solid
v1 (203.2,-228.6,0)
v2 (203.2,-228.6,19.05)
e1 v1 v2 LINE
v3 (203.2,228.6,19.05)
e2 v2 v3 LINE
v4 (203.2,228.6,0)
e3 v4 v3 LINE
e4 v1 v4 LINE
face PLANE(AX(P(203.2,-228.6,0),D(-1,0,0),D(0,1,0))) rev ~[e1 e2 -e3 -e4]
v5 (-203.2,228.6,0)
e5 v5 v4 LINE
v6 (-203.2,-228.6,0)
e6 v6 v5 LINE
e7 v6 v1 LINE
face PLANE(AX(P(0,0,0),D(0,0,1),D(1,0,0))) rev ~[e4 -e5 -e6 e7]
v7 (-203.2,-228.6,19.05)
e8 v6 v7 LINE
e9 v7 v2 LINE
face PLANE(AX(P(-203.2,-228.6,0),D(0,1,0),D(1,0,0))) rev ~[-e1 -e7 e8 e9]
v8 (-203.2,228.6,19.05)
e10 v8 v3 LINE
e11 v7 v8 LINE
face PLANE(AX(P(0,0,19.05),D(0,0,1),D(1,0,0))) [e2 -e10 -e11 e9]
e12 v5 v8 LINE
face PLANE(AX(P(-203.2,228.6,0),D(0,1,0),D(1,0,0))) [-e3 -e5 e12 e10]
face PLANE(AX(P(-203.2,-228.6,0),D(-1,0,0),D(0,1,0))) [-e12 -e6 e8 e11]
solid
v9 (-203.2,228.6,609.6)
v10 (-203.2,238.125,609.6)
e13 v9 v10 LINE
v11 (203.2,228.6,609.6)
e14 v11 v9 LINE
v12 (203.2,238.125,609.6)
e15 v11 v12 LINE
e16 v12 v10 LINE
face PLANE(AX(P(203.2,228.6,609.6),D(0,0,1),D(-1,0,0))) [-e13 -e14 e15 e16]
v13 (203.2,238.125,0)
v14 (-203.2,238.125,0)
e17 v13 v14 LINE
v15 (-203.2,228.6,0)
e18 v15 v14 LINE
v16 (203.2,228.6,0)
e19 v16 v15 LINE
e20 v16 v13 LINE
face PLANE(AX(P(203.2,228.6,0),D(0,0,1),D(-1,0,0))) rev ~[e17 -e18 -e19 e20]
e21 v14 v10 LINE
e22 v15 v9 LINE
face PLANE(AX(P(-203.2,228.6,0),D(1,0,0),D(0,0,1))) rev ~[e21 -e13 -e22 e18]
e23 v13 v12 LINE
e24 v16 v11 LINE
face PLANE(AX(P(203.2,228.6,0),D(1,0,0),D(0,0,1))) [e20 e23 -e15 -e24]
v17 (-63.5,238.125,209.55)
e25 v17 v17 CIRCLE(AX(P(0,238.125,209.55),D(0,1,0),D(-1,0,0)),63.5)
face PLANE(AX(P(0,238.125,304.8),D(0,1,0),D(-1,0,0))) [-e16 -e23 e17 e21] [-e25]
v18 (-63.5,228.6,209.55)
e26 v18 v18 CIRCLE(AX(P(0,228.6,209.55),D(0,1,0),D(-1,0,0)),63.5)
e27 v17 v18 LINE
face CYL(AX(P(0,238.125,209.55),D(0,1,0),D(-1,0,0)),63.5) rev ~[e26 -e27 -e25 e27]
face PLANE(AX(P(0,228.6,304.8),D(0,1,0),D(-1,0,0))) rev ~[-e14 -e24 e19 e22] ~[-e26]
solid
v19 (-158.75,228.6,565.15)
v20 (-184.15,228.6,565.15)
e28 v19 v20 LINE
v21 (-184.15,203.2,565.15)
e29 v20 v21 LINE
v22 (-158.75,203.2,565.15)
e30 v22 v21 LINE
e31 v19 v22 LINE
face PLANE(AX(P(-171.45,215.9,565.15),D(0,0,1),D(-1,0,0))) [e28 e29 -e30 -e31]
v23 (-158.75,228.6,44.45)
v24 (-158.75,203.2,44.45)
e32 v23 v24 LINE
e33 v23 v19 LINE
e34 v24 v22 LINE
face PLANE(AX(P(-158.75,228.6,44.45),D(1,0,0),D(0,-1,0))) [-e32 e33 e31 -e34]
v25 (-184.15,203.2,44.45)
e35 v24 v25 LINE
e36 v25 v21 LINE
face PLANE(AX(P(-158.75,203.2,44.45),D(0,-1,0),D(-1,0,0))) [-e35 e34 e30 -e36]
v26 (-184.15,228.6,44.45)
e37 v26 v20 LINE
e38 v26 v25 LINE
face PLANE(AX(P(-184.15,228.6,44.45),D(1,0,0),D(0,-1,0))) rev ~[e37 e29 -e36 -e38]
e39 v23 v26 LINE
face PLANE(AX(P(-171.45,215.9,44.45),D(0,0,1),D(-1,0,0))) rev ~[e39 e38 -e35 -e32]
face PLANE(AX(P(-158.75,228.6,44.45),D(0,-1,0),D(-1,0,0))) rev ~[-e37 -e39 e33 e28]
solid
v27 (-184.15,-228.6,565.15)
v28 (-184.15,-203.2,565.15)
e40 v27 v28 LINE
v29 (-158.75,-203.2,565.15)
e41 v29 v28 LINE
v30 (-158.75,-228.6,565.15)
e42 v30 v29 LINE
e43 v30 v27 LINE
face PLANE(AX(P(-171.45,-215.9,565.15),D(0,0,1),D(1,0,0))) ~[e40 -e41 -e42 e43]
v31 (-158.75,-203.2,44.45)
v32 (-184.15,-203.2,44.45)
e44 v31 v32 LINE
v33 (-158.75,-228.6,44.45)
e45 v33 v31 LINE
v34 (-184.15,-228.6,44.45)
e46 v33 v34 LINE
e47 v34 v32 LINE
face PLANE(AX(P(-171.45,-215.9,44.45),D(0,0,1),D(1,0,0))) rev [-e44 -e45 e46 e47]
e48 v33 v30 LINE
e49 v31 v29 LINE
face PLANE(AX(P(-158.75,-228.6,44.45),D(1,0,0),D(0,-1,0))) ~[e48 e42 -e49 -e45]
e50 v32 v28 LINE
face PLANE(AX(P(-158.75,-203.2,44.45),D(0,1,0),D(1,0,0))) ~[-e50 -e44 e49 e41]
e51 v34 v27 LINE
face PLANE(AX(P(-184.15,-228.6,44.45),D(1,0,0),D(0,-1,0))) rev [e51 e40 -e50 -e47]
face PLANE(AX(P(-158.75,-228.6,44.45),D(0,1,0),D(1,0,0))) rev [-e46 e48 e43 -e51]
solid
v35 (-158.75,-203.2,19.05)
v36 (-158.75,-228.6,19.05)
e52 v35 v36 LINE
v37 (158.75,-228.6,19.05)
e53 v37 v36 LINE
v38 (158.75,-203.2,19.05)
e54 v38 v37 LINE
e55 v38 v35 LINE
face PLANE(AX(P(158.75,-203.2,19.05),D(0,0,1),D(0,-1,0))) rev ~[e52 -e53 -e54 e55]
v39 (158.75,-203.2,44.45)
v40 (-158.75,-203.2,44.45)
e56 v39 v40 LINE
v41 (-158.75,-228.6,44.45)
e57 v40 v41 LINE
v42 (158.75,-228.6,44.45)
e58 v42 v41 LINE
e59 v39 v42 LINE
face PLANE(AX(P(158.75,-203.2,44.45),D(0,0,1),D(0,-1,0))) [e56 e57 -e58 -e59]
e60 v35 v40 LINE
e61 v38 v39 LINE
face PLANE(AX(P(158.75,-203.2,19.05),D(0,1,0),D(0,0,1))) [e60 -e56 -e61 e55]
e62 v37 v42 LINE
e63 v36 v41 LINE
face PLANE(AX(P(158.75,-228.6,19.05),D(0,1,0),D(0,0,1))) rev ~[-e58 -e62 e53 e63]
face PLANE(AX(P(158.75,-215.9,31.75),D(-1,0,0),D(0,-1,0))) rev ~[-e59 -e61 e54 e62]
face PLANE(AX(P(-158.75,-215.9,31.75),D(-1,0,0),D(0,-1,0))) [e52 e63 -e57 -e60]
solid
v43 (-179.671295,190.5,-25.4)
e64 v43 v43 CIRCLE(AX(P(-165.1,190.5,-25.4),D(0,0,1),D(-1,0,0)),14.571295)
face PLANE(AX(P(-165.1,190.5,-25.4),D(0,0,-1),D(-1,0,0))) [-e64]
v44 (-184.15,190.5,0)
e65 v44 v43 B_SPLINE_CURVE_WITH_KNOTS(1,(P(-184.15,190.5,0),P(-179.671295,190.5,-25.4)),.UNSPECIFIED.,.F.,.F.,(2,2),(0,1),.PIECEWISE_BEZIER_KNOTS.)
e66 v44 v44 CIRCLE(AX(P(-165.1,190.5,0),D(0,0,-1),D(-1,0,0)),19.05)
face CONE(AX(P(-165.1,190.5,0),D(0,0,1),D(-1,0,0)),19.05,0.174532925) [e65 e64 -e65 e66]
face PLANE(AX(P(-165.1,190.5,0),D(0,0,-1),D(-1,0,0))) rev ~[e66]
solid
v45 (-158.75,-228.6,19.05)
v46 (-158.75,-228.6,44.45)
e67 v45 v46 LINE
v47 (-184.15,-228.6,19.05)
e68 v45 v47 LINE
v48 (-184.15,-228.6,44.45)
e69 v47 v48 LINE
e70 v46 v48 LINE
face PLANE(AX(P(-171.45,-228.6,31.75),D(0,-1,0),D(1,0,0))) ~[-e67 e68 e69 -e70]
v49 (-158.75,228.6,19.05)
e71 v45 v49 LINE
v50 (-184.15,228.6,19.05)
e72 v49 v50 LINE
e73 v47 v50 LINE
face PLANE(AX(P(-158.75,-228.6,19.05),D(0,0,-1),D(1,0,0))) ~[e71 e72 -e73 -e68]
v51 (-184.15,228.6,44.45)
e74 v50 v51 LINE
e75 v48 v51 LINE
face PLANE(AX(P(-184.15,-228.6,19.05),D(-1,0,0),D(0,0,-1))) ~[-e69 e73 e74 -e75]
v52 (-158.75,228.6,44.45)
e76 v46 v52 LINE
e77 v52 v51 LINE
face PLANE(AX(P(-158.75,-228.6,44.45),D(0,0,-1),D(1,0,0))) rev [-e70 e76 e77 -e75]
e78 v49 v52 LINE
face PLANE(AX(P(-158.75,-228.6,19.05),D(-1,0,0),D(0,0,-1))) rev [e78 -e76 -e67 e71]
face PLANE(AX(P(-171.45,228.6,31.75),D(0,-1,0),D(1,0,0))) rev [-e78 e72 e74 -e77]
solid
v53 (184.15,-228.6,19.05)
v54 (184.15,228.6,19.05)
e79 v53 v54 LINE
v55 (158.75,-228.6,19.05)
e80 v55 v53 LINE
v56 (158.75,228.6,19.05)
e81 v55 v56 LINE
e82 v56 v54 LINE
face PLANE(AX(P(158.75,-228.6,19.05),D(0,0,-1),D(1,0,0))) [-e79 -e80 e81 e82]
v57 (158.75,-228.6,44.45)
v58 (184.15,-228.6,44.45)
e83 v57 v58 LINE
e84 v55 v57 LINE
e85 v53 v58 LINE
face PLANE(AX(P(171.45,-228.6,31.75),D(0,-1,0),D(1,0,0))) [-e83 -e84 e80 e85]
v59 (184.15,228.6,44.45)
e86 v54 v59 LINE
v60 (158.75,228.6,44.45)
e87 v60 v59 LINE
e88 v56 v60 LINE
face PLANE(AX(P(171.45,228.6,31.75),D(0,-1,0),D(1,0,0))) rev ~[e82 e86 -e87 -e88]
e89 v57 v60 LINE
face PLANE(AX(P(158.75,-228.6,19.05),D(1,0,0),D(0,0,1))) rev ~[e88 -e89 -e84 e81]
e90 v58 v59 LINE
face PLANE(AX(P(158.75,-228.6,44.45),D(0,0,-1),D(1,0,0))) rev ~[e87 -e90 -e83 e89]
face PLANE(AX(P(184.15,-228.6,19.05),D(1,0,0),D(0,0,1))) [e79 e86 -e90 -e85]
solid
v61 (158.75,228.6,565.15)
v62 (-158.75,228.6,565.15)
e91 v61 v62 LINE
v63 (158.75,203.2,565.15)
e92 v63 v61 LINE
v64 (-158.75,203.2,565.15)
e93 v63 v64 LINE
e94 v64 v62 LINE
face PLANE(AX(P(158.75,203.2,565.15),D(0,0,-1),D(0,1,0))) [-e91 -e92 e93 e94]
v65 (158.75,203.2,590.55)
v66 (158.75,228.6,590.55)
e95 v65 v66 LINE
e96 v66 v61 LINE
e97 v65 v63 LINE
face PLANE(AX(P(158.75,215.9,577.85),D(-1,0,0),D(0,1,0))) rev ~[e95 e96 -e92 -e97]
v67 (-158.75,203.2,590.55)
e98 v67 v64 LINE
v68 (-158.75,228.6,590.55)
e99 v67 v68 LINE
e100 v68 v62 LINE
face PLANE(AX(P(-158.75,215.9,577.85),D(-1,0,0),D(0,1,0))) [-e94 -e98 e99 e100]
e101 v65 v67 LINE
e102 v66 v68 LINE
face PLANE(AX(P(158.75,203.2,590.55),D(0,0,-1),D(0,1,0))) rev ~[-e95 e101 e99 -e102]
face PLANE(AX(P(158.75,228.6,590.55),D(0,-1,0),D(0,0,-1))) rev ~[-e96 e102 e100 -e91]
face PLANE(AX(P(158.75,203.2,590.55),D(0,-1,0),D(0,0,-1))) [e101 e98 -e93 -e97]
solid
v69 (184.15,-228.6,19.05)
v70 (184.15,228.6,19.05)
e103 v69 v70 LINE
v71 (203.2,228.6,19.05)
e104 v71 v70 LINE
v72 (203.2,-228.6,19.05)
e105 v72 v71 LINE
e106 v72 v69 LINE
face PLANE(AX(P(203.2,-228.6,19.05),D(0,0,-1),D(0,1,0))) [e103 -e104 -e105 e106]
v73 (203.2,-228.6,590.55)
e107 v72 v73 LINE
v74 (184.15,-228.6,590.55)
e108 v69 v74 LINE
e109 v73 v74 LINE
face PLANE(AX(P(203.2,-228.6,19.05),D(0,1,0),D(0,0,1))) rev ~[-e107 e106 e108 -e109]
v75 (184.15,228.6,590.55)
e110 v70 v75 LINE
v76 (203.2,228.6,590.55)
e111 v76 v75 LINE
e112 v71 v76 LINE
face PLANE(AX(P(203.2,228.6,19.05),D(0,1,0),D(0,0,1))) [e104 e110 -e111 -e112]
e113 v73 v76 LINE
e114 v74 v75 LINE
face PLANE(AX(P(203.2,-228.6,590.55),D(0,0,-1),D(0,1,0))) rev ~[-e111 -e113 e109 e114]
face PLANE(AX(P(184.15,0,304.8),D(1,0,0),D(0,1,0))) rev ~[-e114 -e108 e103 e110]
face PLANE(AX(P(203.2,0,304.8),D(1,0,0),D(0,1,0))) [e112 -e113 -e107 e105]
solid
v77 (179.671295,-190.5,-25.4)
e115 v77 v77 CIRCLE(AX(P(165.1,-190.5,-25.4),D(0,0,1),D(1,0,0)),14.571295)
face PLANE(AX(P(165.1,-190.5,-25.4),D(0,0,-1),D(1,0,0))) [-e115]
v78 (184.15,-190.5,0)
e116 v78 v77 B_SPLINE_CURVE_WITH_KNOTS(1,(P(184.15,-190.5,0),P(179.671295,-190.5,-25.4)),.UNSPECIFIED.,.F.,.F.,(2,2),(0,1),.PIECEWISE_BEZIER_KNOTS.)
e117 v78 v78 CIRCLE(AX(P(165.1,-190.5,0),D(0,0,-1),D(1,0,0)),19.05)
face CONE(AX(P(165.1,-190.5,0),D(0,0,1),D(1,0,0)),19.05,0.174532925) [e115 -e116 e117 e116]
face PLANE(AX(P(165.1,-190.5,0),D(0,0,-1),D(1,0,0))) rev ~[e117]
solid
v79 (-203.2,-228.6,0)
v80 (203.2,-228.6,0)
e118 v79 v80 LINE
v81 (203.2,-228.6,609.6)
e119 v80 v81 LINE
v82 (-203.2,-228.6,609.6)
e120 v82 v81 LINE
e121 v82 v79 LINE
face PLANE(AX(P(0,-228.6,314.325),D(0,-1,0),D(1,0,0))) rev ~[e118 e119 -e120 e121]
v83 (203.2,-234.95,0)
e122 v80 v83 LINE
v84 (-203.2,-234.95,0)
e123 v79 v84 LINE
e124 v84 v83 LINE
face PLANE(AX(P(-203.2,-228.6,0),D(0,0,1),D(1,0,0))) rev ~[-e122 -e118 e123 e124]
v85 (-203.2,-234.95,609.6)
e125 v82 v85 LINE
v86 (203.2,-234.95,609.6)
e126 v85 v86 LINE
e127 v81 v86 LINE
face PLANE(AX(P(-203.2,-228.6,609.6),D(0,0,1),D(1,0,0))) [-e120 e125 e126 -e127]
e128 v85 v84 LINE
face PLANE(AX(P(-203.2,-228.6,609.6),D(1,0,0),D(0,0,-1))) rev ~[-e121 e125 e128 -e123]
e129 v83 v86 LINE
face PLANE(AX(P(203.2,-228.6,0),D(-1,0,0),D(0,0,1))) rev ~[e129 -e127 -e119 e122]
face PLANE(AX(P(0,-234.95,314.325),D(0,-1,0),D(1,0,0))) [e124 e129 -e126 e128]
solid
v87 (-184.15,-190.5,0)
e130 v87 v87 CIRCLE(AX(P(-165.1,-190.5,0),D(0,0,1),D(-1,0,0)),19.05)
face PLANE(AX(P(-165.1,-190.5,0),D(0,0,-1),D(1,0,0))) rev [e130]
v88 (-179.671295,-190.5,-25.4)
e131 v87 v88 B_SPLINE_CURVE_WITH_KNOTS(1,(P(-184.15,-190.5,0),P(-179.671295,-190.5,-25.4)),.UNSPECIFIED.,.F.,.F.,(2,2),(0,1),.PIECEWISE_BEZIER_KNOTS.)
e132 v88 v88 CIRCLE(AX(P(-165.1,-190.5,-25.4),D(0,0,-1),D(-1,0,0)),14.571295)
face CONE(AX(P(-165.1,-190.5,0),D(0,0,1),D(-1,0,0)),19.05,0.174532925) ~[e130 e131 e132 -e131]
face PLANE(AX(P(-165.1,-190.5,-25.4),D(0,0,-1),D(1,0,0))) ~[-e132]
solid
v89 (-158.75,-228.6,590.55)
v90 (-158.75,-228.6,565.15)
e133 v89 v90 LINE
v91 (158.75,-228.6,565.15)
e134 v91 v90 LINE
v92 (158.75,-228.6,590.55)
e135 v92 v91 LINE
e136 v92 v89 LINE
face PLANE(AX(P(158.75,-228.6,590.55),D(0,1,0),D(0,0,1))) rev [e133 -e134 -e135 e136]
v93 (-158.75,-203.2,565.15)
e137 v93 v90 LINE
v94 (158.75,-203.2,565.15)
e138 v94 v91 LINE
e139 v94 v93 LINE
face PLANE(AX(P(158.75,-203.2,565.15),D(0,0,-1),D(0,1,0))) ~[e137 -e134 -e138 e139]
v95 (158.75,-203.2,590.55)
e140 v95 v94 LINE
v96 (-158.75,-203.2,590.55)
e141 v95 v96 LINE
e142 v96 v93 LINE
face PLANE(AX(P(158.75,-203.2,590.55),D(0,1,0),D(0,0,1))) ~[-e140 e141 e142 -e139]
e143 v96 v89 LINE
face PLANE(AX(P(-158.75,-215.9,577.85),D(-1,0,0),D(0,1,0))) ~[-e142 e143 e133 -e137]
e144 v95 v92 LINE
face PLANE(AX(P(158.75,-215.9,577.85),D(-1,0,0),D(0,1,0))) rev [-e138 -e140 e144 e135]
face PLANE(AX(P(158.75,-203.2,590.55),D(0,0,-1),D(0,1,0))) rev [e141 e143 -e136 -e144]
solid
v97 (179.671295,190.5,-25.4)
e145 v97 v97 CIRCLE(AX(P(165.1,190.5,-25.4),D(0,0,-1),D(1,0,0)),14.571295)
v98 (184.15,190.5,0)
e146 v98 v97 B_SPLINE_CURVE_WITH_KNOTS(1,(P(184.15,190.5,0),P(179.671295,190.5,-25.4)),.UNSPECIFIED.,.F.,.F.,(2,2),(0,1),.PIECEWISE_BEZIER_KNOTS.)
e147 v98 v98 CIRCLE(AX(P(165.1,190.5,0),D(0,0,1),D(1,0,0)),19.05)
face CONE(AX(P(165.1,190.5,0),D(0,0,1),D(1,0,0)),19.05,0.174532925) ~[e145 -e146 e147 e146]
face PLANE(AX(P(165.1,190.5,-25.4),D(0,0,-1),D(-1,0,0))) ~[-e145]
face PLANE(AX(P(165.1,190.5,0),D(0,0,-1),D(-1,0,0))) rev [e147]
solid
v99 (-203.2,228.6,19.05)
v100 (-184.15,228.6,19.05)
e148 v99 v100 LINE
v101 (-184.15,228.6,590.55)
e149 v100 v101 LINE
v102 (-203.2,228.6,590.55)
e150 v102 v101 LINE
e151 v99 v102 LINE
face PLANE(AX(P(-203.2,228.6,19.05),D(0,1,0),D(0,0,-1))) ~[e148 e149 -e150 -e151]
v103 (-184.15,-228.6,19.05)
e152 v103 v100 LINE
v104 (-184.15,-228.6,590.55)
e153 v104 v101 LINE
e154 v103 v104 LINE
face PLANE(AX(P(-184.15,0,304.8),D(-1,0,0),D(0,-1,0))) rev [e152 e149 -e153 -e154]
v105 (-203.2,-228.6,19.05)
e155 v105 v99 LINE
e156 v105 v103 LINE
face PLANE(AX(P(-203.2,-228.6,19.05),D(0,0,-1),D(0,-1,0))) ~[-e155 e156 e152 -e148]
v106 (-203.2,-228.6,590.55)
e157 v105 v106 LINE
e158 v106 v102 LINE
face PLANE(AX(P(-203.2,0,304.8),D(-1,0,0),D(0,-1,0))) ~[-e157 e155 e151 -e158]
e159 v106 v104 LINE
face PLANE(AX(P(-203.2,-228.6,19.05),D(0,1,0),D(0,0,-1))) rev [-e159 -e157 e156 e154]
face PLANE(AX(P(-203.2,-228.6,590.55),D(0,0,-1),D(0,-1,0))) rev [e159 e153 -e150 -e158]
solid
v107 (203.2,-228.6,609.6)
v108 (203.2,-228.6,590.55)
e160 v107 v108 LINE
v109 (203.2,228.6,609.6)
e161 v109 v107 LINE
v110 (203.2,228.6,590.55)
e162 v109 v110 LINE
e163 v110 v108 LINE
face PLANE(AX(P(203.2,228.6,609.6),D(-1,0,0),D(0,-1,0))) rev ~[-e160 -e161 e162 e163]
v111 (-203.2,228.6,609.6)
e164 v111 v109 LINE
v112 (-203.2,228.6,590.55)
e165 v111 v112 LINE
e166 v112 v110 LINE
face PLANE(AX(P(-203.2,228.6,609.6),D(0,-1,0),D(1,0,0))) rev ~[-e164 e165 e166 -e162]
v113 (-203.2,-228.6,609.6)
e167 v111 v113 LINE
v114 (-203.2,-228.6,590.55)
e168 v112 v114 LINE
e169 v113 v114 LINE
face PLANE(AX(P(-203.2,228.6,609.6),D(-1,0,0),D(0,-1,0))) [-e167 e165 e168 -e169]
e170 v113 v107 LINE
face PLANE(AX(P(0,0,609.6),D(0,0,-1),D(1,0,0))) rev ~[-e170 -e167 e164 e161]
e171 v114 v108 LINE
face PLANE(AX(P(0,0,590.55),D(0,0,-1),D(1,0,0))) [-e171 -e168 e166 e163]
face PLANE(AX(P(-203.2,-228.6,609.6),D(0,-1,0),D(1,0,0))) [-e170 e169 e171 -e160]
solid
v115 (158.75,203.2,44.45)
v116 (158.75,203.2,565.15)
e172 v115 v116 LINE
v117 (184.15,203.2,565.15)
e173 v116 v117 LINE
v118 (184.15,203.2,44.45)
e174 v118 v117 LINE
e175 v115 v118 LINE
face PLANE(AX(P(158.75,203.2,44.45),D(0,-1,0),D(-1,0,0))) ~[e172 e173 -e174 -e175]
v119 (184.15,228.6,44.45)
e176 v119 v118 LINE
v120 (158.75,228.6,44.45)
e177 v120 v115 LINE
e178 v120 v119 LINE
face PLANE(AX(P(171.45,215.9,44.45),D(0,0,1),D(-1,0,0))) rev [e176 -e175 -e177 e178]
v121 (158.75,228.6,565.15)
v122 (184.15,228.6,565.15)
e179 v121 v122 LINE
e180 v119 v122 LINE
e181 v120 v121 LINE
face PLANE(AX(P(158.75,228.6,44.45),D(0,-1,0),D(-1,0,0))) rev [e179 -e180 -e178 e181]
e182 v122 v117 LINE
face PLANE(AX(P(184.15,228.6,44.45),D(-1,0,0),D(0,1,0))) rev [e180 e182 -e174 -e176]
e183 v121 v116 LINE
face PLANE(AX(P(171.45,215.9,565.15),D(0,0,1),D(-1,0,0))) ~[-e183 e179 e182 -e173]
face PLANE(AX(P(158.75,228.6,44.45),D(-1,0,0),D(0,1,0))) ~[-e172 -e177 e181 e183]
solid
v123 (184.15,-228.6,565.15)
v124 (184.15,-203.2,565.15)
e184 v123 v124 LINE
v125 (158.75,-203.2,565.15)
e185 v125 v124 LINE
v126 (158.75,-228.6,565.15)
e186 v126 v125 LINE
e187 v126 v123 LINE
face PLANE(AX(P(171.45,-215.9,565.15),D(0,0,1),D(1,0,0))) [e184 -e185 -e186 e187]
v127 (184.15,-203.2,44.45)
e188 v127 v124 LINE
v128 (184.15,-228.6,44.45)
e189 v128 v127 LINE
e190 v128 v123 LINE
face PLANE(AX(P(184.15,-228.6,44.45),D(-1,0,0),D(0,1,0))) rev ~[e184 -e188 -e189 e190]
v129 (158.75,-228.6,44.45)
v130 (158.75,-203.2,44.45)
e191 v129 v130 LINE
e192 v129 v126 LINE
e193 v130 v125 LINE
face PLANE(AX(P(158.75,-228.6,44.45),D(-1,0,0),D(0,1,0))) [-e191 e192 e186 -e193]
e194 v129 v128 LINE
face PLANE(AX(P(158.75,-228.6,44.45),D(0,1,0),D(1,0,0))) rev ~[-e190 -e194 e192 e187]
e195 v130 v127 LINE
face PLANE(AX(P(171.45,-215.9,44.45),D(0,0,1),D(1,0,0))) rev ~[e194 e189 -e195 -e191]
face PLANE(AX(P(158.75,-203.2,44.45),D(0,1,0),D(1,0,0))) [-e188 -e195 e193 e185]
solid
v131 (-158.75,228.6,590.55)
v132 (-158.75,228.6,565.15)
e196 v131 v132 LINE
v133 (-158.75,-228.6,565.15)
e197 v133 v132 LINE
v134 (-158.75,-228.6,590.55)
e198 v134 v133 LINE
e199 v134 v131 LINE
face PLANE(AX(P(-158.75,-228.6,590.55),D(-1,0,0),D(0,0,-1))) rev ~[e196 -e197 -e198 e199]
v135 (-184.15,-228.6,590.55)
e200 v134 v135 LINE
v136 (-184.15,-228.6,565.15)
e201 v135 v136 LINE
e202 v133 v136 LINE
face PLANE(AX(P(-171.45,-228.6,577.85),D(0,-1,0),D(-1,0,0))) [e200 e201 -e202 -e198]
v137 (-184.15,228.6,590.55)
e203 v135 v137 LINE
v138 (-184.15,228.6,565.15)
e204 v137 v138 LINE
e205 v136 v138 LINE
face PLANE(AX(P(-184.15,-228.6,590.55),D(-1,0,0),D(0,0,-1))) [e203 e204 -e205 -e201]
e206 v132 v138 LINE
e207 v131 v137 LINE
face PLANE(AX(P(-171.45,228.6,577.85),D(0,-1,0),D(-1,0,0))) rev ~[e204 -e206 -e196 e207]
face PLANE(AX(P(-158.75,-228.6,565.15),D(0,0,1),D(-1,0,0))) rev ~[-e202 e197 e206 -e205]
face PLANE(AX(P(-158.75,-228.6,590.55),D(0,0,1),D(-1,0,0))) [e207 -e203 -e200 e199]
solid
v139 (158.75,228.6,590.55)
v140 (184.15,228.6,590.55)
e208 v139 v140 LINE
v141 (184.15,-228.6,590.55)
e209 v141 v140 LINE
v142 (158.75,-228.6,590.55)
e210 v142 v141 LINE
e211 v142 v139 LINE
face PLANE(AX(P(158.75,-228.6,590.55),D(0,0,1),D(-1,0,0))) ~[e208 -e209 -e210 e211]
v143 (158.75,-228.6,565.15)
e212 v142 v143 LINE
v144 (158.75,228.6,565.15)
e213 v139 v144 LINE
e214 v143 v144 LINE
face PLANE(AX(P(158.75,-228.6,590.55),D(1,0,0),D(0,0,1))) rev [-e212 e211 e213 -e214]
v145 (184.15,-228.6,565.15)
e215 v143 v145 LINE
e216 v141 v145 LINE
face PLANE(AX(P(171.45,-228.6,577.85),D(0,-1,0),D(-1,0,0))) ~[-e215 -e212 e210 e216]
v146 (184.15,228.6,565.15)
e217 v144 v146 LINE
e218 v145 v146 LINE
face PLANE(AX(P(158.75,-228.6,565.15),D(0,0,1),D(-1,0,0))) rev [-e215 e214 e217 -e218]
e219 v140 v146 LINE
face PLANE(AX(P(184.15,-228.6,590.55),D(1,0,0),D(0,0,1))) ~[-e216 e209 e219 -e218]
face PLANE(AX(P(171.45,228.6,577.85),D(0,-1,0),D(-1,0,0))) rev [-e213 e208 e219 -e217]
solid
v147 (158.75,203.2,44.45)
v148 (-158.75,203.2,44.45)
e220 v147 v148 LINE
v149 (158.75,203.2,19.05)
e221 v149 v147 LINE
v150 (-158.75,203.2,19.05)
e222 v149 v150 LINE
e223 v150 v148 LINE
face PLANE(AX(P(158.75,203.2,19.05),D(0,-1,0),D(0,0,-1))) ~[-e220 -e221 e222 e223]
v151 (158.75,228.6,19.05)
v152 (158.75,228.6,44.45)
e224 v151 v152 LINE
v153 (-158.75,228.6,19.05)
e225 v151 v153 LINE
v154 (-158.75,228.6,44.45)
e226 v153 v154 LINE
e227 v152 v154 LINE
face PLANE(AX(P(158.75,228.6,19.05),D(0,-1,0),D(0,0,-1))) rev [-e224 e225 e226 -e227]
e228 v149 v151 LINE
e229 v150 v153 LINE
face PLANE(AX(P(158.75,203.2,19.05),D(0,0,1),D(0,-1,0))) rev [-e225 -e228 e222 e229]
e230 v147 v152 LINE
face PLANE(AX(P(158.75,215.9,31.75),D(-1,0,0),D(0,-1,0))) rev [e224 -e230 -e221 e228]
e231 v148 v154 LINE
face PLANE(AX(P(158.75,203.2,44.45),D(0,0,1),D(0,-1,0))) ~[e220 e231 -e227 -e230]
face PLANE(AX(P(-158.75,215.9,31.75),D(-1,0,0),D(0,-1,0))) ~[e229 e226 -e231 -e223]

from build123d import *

# Parameters (mm, degrees)
F0_W      = 406.4
F0_H      = 457.2
F1_DEPTH  = 19.05
F3_W      = 406.4
F3_H      = 457.2
F4_DEPTH  = 19.05
F5_W      = 457.2
F5_H      = 571.5
F6_DEPTH  = 19.05
F8_W      = 25.4
F8_H      = 25.4
F9_DEPTH  = 457.2
F11_W     = 25.4
F11_H     = 25.4
F12_DEPTH = 317.5
F16_W     = 25.4
F16_H     = 25.4
F17_DEPTH = 520.7
F20_W     = 406.4
F20_H     = 609.6
F21_DEPTH = 9.525
F22_R     = 63.5
F23_DEPTH = 9.525
F24_W     = 406.4
F24_H     = 590.55
F24_H_2   = 19.05
F25_DEPTH = 6.35
F26_R     = 19.05
F27_DEPTH = 25.4
F27_TAPER = 10


with BuildPart() as f1:
    # F0 (on Top) → F1 (new body)
    with BuildSketch(Plane.XY):
        Rectangle(F0_W, F0_H)
    extrude(amount=F1_DEPTH)


with BuildPart() as f4:
    # F3 (on offset) → F4 (new body)
    with BuildSketch(Plane(origin=(0, 0, 609.6), x_dir=(1, 0, 0), z_dir=(0, 0, -1))):
        Rectangle(F3_W, F3_H)
    extrude(amount=F4_DEPTH)


with BuildPart() as f6:
    # F5 (on face) → F6 (new body)
    with BuildSketch(Plane.YZ.offset(203.2)):
        with Locations((0, 304.8)):
            Rectangle(F5_W, F5_H)
    extrude(amount=-F6_DEPTH)


with BuildPart() as f7_1:
    # F7: instance of F6
    add(f6.part.mirror(Plane.YZ))


with BuildPart() as f9:
    # F8 (on face) → F9 (new body, through all)
    with BuildSketch(Plane.XZ.offset(228.6)):
        with Locations((171.45, 31.75)):
            Rectangle(F8_W, F8_H)
    extrude(amount=-F9_DEPTH)


with BuildPart() as f10_1:
    # F10: instance of F9
    add(f9.part.mirror(Plane.YZ))


with BuildPart() as f12:
    # F11 (on face) → F12 (new body, through all)
    with BuildSketch(Plane(origin=(158.75, 0, 0), x_dir=(0, -1, 0), z_dir=(-1, 0, 0))):
        with Locations((215.9, 31.75)):
            Rectangle(F11_W, F11_H)
    extrude(amount=F12_DEPTH)


with BuildPart() as f13_1:
    # F13: instance of F12
    add(f12.part.mirror(Plane.XZ))


with BuildPart() as f15_1:
    # F15: instance of F10_1
    add(f10_1.part.mirror(Plane.XY.offset(304.8)))


with BuildPart() as f15_2:
    # F15: instance of F13_1
    add(f13_1.part.mirror(Plane.XY.offset(304.8)))


with BuildPart() as f15_3:
    # F15: instance of F9
    add(f9.part.mirror(Plane.XY.offset(304.8)))


with BuildPart() as f15_4:
    # F15: instance of F12
    add(f12.part.mirror(Plane.XY.offset(304.8)))


with BuildPart() as f17:
    # F16 (on face) → F17 (new body, through all)
    with BuildSketch(Plane.XY.offset(44.45)):
        with Locations((171.45, -215.9)):
            Rectangle(F16_W, F16_H)
    extrude(amount=F17_DEPTH)


with BuildPart() as f18_1:
    # F18: instance of F17
    add(f17.part.mirror(Plane.XZ))


with BuildPart() as f19_1:
    # F19: instance of F17
    add(f17.part.mirror(Plane.YZ))


with BuildPart() as f19_2:
    # F19: instance of F18_1
    add(f18_1.part.mirror(Plane.YZ))


with BuildPart() as f21:
    # F20 (on face) → F21 (new body)
    with BuildSketch(Plane(origin=(0, 228.6, 0), x_dir=(-1, 0, 0), z_dir=(0, 1, 0))):
        with Locations((0, 304.8)):
            Rectangle(F20_W, F20_H)
    extrude(amount=F21_DEPTH)

    # F22 (on face) → F23 (cut, through all)
    with BuildSketch(Plane(origin=(0, 238.125, 0), x_dir=(-1, 0, 0), z_dir=(0, 1, 0))):
        with Locations((0, 209.55)):
            Circle(F22_R)
    extrude(amount=-F23_DEPTH, mode=Mode.SUBTRACT)


with BuildPart() as f25:
    # F24 (on face) → F25 (new body)
    with BuildSketch(Plane.XZ.offset(228.6)):
        with Locations((0, 314.325)):
            Rectangle(F24_W, F24_H)
        with Locations((0, 9.525)):
            Rectangle(F24_W, F24_H_2)
    extrude(amount=F25_DEPTH)


with BuildPart() as f27:
    # F26 (on face) → F27 (new body)
    with BuildSketch(Plane(origin=(0, 0, 0), x_dir=(1, 0, 0), z_dir=(0, 0, -1))):
        with Locations((165.1, 190.5)):
            Circle(F26_R)
    extrude(amount=F27_DEPTH, taper=F27_TAPER)


with BuildPart() as f28_1:
    # F28: instance of F27
    add(f27.part.mirror(Plane.XZ))


with BuildPart() as f29_1:
    # F29: instance of F27
    add(f27.part.mirror(Plane.YZ))


with BuildPart() as f29_2:
    # F29: instance of F28_1
    add(f28_1.part.mirror(Plane.YZ))


solid = Compound([f1.part, f4.part, f6.part, f7_1.part, f9.part, f10_1.part, f12.part, f13_1.part, f15_1.part, f15_2.part, f15_3.part, f15_4.part, f17.part, f18_1.part, f19_1.part, f19_2.part, f21.part, f25.part, f27.part, f28_1.part, f29_1.part, f29_2.part])
